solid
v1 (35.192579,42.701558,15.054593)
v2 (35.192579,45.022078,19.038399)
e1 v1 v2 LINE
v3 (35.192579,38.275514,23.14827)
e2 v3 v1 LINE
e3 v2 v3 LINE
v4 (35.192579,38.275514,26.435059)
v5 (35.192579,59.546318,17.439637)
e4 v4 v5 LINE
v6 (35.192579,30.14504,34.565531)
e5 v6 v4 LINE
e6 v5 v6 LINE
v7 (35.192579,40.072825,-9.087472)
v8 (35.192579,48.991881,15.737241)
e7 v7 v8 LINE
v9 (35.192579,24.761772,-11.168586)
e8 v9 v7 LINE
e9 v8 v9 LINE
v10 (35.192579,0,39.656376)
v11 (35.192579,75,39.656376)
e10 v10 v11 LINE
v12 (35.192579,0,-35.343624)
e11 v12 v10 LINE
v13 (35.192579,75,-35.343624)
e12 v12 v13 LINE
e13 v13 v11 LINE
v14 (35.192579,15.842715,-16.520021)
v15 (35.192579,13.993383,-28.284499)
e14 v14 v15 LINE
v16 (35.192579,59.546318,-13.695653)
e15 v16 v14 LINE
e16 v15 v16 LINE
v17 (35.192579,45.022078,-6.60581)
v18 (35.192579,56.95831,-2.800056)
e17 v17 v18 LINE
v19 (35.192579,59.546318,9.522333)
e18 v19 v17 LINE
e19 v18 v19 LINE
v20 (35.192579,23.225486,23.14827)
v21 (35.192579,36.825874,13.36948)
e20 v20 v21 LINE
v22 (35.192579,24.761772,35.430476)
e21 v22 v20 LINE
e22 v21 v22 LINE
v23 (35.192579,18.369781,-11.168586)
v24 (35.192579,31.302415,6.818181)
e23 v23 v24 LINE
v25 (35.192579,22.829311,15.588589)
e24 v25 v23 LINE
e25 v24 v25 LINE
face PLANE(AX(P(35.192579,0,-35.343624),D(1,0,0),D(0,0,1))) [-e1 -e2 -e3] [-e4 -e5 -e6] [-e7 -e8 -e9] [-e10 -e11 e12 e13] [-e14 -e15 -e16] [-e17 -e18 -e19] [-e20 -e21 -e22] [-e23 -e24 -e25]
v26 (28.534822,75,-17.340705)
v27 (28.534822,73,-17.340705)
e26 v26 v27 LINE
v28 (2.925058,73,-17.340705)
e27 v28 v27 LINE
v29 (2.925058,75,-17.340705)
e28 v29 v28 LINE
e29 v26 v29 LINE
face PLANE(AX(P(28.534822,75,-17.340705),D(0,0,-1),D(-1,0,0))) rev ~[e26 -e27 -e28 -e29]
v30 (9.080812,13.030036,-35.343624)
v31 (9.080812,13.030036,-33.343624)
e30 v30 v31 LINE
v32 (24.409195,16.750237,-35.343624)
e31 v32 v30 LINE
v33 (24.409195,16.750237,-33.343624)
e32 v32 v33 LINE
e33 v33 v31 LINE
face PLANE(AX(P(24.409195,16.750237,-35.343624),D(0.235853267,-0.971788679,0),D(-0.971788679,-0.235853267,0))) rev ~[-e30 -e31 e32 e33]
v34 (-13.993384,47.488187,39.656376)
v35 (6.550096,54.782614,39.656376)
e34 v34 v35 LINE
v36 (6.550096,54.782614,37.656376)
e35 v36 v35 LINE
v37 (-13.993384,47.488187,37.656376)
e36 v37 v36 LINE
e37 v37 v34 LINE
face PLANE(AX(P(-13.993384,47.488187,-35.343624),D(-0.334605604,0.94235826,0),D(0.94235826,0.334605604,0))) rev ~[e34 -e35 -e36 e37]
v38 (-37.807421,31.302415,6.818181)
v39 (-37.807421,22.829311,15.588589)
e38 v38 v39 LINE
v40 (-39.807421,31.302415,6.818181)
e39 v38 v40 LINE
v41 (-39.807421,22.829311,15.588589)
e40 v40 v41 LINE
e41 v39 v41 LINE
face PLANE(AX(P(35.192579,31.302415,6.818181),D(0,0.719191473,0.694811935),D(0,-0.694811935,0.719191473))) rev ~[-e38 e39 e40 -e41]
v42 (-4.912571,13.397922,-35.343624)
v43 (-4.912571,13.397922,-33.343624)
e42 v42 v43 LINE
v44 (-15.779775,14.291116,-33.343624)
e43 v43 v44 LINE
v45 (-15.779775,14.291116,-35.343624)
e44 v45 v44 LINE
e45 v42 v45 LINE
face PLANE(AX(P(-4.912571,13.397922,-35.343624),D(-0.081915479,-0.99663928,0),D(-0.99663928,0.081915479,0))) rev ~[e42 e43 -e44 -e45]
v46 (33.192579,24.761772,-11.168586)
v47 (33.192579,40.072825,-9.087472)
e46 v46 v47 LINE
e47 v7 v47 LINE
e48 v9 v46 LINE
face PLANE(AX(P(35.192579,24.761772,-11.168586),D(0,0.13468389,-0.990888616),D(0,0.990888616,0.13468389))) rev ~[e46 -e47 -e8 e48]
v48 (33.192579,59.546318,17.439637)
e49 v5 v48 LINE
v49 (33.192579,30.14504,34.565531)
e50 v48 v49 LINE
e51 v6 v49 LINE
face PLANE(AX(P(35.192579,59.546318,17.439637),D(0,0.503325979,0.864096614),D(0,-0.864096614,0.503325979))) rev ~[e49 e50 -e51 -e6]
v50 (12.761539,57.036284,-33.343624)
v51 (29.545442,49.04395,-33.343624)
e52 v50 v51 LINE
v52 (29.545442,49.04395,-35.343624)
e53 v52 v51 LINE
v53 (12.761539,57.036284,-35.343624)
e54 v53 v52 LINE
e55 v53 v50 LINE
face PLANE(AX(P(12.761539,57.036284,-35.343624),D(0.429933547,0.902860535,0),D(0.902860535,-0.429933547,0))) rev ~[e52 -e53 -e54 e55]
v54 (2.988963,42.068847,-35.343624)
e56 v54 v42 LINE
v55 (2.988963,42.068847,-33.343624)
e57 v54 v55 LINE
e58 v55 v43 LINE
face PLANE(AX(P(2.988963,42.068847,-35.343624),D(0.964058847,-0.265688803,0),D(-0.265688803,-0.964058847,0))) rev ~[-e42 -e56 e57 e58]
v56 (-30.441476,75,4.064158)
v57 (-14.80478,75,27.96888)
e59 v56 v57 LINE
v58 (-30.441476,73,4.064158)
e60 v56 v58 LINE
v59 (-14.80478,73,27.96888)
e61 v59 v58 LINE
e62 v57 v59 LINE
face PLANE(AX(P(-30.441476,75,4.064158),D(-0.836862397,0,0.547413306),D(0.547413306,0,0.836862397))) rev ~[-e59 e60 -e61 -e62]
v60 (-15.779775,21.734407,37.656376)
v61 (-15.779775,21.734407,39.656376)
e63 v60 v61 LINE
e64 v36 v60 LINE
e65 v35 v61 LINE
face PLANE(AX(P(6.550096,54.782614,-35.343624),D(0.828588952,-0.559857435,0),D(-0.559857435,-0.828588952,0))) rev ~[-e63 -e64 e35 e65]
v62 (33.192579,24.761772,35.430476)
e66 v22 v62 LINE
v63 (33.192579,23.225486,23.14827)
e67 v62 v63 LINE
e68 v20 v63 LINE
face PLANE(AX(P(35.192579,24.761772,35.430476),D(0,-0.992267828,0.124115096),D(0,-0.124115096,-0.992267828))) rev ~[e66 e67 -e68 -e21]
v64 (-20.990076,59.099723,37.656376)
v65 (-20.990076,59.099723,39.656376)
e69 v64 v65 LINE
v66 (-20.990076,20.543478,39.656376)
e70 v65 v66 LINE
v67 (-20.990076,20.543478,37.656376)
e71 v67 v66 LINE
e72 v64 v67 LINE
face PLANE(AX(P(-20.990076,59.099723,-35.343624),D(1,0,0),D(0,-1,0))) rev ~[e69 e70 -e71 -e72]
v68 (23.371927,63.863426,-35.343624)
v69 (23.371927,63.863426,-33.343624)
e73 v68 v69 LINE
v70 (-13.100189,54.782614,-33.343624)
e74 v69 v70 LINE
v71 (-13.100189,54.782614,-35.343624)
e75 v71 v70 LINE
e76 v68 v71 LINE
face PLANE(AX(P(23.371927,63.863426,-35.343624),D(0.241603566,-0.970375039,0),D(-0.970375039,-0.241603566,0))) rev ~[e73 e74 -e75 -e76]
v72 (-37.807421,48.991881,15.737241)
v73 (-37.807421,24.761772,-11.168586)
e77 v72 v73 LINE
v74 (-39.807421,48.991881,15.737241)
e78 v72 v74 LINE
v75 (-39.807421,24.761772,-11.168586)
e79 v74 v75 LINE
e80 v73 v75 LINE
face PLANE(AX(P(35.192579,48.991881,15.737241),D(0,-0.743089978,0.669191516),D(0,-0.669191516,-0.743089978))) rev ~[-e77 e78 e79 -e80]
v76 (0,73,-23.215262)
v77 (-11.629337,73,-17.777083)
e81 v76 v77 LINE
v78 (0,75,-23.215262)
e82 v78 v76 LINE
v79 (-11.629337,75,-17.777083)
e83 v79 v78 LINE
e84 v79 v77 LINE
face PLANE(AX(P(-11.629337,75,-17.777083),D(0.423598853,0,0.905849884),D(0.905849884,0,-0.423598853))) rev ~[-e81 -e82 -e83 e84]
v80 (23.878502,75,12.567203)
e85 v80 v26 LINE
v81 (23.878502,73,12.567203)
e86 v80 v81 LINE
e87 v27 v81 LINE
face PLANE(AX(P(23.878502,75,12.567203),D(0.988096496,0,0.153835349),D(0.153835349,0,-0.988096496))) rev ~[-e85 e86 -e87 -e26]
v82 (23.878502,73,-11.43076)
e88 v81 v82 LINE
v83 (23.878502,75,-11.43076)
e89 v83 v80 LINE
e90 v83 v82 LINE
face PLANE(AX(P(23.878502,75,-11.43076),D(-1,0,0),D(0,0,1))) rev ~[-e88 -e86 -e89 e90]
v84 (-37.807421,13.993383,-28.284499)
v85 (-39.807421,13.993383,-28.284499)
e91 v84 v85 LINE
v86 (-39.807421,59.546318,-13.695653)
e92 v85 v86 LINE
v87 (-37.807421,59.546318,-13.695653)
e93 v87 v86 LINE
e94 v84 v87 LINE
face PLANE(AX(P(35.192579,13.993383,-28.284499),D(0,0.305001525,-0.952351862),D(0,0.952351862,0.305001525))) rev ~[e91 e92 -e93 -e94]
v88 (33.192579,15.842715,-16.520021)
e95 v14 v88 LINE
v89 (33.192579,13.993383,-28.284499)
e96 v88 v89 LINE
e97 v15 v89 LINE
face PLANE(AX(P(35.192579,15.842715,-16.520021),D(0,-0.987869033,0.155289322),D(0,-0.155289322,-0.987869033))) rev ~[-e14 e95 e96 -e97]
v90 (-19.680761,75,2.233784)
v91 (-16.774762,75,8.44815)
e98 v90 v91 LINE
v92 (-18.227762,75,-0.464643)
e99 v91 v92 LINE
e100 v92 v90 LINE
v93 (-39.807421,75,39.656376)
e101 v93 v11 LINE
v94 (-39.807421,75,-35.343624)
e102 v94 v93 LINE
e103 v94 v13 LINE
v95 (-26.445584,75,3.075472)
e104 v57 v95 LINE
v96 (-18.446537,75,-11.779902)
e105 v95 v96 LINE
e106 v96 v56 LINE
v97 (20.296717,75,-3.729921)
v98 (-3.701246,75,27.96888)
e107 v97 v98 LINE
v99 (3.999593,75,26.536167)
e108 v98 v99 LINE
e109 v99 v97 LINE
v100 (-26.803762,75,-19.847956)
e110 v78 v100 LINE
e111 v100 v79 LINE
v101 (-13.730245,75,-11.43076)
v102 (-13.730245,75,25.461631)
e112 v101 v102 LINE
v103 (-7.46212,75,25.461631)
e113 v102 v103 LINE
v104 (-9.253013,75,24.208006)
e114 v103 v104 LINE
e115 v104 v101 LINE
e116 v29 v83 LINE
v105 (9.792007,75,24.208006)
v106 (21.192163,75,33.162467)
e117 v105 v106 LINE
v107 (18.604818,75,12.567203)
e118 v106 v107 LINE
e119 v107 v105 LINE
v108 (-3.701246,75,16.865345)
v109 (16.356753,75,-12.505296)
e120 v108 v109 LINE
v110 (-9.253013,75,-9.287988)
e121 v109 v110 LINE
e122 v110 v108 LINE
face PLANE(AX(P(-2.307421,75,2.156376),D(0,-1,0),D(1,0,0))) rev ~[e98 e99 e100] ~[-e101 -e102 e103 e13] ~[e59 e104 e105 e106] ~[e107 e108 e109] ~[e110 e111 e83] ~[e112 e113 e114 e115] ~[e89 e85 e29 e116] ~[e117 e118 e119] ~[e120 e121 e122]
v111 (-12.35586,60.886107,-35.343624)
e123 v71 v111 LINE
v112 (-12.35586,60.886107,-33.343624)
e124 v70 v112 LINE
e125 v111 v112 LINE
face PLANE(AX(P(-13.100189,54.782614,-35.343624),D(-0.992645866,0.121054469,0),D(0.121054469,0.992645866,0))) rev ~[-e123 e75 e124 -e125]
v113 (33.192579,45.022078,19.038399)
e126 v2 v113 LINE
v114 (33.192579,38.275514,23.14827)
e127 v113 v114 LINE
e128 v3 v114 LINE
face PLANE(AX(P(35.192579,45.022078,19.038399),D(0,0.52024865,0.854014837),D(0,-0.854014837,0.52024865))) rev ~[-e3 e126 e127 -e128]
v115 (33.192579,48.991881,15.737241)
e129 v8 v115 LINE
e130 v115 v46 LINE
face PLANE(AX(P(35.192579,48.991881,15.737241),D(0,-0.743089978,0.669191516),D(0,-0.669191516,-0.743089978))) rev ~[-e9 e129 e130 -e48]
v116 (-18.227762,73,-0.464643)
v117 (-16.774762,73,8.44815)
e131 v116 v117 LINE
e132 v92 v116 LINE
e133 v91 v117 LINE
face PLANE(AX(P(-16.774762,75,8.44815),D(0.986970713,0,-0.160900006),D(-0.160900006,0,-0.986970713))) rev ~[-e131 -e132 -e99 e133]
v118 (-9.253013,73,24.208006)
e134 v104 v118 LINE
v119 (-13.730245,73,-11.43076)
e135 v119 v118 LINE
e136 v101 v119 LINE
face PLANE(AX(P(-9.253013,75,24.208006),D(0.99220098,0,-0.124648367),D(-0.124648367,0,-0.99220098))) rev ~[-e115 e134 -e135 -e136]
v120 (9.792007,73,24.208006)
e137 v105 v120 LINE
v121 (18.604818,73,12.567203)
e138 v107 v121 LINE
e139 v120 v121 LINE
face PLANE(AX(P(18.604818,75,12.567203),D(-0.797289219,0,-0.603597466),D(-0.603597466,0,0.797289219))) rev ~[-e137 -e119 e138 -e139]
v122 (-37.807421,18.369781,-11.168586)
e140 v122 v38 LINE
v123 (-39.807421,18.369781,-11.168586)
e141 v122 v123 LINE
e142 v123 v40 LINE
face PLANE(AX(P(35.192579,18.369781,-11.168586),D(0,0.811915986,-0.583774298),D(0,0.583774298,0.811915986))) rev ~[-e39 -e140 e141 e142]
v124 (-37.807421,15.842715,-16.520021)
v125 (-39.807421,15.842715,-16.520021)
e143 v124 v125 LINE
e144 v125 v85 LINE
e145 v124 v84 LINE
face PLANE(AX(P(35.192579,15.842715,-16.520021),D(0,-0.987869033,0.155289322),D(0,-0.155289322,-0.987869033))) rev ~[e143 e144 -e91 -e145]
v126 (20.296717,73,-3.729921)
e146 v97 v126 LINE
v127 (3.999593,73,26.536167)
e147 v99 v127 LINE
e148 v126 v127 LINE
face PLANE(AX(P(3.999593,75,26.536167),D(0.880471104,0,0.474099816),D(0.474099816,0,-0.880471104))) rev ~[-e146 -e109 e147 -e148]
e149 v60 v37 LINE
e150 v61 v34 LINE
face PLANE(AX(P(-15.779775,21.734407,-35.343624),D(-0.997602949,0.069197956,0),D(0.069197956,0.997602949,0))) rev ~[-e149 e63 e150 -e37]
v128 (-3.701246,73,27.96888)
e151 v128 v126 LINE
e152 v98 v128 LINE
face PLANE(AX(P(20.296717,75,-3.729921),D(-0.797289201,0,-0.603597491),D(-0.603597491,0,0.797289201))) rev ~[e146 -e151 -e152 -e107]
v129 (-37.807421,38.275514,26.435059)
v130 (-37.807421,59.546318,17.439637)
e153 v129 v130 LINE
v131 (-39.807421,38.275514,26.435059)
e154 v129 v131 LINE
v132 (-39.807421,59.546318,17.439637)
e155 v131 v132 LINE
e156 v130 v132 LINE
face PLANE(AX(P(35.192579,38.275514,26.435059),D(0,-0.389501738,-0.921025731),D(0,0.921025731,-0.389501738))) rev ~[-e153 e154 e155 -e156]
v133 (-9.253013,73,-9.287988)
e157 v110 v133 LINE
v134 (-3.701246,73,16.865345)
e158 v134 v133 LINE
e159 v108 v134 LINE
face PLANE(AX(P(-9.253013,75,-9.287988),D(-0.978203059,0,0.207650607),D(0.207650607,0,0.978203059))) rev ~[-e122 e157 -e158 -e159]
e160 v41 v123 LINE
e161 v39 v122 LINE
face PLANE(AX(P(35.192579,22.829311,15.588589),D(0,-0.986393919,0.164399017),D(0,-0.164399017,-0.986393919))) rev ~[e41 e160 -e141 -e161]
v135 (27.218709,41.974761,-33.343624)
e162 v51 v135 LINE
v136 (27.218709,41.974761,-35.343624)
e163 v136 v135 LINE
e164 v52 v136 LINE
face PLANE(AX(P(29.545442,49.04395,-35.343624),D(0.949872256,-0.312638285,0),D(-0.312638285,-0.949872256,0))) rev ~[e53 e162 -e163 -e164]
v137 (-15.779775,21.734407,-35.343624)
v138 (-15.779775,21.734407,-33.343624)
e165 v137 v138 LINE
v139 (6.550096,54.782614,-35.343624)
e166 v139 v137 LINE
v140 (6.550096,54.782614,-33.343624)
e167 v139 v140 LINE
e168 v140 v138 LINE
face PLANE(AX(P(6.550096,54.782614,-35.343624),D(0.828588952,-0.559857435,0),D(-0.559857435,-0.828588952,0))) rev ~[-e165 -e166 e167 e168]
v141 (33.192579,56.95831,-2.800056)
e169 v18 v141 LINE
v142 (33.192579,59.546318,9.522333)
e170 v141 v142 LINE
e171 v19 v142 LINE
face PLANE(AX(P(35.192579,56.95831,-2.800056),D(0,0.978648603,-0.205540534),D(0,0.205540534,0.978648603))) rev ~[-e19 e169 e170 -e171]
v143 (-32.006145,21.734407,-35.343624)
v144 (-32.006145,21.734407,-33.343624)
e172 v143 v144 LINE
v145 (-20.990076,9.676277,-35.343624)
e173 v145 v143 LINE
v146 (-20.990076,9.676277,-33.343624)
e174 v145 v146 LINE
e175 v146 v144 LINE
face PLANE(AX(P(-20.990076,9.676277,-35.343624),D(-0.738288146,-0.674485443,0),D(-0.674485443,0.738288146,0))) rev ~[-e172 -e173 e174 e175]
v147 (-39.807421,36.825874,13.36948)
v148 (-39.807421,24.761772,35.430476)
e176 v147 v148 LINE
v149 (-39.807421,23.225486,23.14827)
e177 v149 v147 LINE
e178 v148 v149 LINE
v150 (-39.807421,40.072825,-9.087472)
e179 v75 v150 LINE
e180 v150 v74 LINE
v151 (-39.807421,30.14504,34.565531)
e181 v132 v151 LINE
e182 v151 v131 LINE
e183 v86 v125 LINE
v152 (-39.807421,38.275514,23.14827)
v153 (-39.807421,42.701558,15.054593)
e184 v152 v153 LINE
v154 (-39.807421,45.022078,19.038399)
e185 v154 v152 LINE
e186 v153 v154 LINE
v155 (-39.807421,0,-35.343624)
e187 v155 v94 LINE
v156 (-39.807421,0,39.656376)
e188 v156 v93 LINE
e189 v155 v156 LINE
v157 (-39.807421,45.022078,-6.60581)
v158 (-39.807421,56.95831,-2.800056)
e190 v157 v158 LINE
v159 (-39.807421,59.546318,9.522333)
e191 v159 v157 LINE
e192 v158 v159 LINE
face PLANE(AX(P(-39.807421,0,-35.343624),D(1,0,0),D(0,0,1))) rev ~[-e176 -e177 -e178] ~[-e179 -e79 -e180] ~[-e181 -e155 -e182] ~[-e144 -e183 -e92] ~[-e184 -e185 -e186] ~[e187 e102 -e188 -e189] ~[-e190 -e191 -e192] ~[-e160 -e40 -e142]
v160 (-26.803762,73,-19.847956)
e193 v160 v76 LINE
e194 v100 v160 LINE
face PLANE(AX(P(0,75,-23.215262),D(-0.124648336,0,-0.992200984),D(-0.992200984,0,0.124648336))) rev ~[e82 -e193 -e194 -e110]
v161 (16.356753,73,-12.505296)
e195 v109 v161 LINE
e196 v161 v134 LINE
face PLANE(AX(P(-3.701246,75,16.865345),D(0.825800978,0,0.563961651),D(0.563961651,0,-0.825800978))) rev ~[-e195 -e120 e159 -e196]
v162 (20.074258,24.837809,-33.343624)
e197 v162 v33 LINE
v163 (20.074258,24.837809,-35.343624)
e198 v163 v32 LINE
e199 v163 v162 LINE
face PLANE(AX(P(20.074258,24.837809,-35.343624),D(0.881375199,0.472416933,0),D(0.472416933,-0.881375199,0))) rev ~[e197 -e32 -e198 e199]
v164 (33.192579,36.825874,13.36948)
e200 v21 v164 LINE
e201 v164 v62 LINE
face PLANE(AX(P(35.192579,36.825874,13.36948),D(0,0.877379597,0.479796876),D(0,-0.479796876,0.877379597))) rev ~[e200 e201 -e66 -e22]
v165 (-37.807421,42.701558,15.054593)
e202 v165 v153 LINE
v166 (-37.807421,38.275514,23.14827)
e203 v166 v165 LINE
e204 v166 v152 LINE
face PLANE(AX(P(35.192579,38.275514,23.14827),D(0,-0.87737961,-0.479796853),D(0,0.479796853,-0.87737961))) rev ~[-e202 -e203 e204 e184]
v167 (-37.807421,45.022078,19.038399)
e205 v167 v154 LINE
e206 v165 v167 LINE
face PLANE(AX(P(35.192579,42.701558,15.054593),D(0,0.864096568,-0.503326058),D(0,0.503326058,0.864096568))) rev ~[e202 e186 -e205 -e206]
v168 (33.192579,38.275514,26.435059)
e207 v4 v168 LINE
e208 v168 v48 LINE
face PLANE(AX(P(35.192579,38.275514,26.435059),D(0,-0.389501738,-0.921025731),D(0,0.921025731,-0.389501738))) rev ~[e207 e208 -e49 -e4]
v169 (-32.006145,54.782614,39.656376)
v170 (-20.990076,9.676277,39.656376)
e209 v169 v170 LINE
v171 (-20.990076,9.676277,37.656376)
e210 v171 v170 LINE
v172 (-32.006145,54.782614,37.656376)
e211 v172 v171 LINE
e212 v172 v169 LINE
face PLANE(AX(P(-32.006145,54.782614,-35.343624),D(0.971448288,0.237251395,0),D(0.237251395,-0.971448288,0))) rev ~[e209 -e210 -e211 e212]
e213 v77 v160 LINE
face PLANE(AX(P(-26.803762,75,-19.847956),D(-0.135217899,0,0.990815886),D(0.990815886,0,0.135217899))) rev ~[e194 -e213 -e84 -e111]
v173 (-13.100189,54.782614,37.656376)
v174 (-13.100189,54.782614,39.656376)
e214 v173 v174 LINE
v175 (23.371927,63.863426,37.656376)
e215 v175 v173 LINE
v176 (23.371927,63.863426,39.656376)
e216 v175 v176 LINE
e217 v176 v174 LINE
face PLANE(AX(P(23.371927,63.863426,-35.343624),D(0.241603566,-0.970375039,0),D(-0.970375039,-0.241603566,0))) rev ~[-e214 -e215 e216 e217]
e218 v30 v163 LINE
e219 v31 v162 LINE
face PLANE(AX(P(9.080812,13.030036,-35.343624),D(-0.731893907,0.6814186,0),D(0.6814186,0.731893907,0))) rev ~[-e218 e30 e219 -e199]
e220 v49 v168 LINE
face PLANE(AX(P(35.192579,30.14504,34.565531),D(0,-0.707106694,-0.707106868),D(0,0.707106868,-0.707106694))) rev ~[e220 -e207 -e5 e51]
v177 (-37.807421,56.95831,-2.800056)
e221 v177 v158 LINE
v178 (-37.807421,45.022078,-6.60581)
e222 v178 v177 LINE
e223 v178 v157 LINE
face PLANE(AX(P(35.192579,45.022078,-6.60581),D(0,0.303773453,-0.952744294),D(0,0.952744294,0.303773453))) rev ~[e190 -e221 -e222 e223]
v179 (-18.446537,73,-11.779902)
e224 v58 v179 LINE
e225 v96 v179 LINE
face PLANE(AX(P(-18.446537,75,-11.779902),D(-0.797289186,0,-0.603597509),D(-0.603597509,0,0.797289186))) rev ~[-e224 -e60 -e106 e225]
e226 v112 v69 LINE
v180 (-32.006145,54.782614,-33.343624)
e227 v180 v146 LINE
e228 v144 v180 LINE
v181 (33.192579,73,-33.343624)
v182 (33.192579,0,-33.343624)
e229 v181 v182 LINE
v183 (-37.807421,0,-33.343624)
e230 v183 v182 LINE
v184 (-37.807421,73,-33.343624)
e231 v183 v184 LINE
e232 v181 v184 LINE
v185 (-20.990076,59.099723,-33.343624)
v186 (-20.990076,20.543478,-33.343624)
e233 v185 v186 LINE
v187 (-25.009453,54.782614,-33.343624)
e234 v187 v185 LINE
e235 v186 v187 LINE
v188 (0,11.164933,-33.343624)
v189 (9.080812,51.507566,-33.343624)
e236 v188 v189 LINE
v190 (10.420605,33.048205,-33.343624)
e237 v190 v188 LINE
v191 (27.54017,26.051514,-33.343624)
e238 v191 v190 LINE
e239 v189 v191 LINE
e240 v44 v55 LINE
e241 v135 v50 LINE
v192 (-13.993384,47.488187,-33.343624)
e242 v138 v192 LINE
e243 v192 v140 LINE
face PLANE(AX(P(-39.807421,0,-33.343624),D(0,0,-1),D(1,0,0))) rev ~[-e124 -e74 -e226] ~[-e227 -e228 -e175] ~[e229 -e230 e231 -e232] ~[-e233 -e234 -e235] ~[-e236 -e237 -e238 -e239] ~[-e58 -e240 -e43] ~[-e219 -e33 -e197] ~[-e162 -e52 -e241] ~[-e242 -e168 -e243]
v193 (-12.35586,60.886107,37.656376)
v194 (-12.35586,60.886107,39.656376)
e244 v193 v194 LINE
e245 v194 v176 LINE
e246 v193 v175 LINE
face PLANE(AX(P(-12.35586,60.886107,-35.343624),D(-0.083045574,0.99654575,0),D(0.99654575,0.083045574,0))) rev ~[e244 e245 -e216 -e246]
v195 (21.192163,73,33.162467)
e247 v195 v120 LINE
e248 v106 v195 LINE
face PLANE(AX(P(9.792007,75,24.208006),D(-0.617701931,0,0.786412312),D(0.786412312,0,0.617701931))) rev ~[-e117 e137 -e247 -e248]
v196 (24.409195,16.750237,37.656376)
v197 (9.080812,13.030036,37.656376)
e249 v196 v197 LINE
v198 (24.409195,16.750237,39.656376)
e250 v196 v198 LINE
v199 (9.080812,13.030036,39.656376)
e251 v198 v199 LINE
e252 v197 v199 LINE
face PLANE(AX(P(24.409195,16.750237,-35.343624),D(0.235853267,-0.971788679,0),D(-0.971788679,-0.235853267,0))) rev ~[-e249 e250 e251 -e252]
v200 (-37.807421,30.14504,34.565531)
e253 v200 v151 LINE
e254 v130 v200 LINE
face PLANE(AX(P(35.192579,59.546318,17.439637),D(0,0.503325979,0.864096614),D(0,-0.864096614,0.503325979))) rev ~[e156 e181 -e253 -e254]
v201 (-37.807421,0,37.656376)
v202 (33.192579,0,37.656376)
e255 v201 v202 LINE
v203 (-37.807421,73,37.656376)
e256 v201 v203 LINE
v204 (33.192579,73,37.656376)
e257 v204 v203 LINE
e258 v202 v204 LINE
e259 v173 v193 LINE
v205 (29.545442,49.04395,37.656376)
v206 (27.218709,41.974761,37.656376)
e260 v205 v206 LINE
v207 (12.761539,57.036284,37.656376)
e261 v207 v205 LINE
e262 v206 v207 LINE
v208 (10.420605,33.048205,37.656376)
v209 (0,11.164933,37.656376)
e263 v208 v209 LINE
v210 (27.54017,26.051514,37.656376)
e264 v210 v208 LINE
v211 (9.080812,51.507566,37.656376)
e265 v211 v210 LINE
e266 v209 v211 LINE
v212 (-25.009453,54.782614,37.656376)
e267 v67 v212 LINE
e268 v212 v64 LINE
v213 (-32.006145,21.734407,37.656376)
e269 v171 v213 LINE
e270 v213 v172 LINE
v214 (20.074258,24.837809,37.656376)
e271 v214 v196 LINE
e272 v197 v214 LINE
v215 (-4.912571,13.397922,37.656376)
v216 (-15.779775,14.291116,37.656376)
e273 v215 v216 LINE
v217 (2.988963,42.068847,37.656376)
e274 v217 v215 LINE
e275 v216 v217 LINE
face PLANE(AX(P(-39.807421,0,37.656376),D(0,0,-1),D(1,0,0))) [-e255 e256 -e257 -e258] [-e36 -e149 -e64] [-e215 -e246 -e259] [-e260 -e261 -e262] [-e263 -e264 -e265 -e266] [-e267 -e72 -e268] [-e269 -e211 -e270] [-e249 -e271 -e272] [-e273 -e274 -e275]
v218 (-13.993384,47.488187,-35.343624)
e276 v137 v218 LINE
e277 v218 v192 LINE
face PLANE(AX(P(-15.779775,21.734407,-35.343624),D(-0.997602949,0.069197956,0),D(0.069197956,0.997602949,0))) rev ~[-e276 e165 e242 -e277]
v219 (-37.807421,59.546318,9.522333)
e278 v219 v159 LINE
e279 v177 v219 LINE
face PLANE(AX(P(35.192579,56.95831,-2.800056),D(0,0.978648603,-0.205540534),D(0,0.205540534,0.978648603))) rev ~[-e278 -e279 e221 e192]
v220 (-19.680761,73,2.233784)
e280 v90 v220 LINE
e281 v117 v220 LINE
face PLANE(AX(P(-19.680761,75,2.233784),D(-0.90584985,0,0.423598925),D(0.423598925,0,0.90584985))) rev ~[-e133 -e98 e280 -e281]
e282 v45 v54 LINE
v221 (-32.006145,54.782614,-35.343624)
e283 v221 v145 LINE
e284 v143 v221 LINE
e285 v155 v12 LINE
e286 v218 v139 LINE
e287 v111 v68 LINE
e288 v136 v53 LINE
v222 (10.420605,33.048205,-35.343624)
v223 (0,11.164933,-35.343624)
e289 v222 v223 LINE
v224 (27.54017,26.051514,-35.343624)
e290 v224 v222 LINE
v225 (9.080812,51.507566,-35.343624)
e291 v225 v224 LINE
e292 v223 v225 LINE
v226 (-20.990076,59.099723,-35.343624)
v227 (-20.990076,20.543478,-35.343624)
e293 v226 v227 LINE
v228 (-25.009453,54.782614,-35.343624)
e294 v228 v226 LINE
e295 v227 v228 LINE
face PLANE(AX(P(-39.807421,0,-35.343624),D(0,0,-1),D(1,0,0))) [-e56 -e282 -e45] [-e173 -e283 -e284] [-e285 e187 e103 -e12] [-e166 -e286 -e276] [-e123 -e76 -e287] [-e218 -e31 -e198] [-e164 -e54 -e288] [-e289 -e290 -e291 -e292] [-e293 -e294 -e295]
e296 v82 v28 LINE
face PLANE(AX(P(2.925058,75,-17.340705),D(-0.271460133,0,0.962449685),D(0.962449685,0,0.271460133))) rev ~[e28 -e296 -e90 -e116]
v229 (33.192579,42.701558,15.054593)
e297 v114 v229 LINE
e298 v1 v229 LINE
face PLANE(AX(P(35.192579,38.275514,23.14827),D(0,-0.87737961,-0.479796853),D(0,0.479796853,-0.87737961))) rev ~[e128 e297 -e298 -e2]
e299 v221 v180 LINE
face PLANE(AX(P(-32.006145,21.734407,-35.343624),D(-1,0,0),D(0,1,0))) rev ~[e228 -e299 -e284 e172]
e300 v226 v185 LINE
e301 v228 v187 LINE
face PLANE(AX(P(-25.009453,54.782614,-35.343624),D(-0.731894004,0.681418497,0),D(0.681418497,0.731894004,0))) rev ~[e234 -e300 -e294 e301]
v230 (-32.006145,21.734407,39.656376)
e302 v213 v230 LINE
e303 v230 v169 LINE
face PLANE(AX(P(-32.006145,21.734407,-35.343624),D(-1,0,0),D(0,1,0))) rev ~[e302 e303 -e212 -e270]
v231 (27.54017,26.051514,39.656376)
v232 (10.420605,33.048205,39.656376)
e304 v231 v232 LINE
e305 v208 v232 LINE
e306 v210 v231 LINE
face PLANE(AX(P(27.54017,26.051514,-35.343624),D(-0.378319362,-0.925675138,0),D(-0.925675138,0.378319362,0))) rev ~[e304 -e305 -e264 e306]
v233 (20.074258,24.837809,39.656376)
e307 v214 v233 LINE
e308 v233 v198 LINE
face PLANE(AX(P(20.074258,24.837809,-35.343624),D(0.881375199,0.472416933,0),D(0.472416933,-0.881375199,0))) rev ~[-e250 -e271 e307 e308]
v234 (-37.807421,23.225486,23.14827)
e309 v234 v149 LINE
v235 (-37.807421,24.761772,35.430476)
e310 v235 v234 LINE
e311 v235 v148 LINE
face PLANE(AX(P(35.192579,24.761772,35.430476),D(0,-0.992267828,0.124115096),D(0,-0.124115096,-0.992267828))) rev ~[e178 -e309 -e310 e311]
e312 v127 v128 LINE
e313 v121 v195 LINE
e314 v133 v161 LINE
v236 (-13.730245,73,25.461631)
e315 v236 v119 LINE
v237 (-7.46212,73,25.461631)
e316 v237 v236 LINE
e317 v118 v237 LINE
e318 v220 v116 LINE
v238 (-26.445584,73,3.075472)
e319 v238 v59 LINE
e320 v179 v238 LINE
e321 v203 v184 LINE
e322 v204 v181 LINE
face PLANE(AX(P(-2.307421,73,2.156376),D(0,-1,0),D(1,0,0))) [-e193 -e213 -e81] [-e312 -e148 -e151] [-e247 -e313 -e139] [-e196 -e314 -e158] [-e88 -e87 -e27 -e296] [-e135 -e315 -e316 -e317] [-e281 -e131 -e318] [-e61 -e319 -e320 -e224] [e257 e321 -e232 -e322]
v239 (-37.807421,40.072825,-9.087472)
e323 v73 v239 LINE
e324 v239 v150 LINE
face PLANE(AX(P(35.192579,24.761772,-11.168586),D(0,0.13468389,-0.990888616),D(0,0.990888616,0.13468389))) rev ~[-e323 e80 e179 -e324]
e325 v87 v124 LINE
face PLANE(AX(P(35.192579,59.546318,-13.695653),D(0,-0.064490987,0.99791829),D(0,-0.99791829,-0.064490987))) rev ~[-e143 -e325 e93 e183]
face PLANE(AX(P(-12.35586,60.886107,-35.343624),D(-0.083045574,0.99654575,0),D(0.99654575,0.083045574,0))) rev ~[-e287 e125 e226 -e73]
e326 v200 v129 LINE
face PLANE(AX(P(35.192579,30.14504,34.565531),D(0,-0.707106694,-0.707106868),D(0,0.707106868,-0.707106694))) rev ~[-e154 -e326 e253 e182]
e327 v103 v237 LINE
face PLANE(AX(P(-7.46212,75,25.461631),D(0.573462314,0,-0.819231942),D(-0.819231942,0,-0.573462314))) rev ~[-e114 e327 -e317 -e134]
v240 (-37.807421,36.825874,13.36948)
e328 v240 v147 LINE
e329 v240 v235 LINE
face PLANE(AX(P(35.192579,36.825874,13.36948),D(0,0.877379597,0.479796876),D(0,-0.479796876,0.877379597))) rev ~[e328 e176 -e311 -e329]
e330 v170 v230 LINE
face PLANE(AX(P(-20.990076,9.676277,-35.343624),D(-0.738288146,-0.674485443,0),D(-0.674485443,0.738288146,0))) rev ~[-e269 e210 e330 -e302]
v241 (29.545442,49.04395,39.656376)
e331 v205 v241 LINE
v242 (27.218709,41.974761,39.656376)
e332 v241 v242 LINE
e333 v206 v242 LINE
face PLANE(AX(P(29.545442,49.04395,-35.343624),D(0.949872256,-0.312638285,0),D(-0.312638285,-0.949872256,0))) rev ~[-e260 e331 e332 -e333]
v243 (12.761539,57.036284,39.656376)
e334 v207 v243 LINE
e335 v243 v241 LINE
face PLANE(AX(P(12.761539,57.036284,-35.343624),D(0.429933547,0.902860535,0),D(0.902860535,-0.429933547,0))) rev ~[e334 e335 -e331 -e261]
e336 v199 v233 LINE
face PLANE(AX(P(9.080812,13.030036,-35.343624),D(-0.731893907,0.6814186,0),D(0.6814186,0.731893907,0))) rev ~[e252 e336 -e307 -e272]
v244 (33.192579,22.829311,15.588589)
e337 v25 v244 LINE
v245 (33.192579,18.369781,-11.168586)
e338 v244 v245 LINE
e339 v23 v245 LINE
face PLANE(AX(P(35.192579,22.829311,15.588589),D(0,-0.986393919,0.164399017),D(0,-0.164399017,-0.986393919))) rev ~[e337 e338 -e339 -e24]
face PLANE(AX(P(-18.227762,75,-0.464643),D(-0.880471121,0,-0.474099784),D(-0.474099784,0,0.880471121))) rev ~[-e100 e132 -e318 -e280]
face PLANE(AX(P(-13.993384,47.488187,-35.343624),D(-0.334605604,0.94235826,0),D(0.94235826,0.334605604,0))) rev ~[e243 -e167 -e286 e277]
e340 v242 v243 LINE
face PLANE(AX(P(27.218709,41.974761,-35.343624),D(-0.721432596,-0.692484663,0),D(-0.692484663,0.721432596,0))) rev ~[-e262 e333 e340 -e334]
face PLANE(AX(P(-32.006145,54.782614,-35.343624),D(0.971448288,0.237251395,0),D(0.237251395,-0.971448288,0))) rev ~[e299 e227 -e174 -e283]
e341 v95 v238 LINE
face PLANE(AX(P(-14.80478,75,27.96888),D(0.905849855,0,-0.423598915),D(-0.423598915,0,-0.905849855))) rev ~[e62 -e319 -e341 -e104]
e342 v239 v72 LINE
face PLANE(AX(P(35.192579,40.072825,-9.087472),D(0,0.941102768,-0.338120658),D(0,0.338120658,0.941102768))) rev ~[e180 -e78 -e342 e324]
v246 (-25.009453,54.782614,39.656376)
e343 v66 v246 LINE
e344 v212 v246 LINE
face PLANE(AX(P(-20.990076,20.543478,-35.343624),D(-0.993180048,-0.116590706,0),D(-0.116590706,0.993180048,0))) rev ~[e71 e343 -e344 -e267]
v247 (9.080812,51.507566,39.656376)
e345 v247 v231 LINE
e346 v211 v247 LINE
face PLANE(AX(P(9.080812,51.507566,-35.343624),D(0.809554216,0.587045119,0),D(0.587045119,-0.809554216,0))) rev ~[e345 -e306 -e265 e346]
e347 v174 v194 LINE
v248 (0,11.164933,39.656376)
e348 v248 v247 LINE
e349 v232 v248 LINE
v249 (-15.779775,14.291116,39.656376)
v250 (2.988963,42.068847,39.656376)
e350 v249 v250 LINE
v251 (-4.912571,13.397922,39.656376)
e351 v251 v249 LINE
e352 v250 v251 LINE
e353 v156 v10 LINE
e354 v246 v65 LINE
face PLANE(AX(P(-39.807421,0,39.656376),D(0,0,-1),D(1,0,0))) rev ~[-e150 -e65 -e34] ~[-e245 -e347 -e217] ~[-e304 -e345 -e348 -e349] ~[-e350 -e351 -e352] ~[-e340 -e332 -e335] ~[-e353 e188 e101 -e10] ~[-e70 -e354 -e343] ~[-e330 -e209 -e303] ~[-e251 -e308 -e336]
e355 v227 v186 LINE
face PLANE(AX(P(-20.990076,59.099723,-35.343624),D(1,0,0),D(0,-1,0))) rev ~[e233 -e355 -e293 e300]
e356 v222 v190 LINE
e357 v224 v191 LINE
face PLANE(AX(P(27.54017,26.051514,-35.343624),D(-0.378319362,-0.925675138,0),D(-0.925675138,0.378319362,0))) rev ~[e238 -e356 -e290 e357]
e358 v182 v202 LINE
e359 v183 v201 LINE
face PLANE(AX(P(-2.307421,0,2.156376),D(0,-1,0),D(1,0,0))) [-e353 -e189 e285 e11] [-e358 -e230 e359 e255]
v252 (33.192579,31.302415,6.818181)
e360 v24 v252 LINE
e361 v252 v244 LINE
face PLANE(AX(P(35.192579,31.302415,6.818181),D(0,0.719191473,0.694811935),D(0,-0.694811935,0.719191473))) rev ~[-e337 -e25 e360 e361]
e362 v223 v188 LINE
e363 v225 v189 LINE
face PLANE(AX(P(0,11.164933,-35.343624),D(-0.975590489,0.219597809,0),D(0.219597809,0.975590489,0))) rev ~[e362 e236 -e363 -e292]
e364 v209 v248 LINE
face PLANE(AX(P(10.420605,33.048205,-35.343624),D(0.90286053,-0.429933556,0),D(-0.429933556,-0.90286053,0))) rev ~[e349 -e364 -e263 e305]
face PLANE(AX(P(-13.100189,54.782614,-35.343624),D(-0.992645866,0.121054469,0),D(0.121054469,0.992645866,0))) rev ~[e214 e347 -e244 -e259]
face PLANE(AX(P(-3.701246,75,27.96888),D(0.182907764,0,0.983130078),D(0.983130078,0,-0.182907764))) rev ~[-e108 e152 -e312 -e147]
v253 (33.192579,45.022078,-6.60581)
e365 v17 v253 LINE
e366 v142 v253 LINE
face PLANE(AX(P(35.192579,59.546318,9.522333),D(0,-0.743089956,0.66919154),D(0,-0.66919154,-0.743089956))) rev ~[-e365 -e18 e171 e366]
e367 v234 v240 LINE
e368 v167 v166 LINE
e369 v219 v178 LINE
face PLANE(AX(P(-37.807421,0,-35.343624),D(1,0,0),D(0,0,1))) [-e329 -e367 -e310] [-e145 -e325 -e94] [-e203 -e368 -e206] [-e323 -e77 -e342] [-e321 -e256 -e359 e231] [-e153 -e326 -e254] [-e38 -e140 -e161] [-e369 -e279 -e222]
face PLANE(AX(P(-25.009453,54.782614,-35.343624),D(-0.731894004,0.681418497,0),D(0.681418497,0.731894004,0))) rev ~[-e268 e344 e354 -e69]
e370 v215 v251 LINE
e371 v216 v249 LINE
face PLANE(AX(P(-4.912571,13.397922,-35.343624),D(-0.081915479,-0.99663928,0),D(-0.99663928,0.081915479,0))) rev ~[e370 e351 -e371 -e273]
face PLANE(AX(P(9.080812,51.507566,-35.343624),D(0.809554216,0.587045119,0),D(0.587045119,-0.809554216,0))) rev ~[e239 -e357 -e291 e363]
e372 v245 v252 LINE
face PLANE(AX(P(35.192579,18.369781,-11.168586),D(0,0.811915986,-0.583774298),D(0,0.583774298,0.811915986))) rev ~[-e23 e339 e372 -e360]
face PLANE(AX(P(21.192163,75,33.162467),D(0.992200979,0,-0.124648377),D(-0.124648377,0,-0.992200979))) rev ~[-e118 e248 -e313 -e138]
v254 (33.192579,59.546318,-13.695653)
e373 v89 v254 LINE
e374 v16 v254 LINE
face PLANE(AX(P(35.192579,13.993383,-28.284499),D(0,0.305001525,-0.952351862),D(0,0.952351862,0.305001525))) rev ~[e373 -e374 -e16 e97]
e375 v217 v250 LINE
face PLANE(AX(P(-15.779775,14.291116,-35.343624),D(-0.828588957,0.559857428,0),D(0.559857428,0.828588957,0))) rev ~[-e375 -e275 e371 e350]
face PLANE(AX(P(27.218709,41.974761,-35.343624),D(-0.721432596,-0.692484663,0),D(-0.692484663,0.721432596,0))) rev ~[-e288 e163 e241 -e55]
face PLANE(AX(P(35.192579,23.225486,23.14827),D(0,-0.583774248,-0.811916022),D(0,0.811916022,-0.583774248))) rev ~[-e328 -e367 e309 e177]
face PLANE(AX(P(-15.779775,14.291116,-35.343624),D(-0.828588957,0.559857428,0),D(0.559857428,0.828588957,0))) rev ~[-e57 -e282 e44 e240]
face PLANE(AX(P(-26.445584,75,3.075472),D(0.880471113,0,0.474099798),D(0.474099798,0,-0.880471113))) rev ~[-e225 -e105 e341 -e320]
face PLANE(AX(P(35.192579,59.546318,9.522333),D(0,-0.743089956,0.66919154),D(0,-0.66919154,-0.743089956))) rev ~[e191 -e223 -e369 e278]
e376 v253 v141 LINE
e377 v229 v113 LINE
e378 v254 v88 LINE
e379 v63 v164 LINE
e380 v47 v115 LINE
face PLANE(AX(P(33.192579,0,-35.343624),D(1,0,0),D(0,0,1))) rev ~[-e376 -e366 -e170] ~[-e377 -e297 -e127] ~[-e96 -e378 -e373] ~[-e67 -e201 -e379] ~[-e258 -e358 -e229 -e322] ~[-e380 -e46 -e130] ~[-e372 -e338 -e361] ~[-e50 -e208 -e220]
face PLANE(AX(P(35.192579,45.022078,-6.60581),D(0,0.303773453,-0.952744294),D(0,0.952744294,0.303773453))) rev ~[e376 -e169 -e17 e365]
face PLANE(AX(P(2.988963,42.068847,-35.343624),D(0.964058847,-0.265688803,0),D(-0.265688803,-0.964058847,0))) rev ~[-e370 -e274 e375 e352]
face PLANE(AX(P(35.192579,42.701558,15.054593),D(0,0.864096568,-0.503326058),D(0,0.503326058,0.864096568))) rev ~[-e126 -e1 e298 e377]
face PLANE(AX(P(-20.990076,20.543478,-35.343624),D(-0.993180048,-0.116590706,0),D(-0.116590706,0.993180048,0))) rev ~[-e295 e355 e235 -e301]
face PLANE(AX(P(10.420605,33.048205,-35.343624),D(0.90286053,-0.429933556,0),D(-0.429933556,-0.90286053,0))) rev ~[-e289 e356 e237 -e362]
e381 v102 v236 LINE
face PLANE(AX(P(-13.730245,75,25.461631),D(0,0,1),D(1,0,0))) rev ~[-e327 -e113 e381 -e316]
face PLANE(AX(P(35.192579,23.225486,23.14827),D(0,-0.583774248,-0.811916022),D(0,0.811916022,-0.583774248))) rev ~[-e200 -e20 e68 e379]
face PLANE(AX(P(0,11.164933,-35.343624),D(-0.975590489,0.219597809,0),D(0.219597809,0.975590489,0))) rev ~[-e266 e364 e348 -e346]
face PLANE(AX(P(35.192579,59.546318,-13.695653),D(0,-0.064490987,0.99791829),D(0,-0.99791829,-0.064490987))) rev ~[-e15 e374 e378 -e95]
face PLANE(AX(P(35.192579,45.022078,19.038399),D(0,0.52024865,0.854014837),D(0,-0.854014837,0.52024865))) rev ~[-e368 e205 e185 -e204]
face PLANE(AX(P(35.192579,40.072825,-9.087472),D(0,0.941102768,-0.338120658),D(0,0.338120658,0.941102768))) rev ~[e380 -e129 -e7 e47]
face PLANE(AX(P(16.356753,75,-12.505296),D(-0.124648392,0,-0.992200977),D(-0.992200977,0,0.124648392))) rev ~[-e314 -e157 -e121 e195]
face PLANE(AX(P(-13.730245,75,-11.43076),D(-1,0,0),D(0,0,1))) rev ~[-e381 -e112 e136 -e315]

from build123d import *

# Parameters (mm, degrees)
F0_W     = 75
F0_H     = 75
F1_DEPTH = 75
F2_T     = -2
F4_DEPTH = 146.3
F6_DEPTH = 84.9
F8_DEPTH = 25


with BuildPart() as f1:
    # F0 (on Front) → F1 (new body)
    with BuildSketch(Plane.XZ):
        with Locations((-2.307421, 2.156376)):
            Rectangle(F0_W, F0_H)
    extrude(amount=-F1_DEPTH)

    # F2
    f2_openings = [f1.faces().sort_by_distance(p)[0] for p in [
        (-2.307421, 0, 2.156376),
    ]]
    offset(amount=F2_T, openings=f2_openings)

    # F3 (on face) → F4 (cut)
    with BuildSketch(Plane(origin=(0, 0, -35.343624), x_dir=(1, 0, 0), z_dir=(0, 0, -1))):
        Polygon((-20.990076, -20.543478), (-25.009453, -54.782614), (-20.990076, -59.099723), align=None)
        Polygon((6.550096, -54.782614), (-15.779775, -21.734407), (-13.993384, -47.488187), align=None)
        Polygon((10.420605, -33.048205), (0, -11.164933), (9.080812, -51.507566), (27.54017, -26.051514), align=None)
        Polygon((23.371927, -63.863426), (-13.100189, -54.782614), (-12.35586, -60.886107), align=None)
        Polygon((-4.912571, -13.397922), (-15.779775, -14.291116), (2.988963, -42.068847), align=None)
        Polygon((-32.006145, -54.782614), (-20.990076, -9.676277), (-32.006145, -21.734407), align=None)
        Polygon((29.545442, -49.04395), (27.218709, -41.974761), (12.761539, -57.036284), align=None)
        Polygon((24.409195, -16.750237), (9.080812, -13.030036), (20.074258, -24.837809), align=None)
    extrude(amount=-F4_DEPTH, mode=Mode.SUBTRACT)

    # F5 (on face) → F6 (cut)
    with BuildSketch(Plane.YZ.offset(35.192579)):
        Polygon((15.842715, -16.520021), (13.993383, -28.284499), (59.546318, -13.695653), align=None)
        Polygon((22.829311, 15.588589), (18.369781, -11.168586), (31.302415, 6.818181), align=None)
        Polygon((48.991881, 15.737241), (24.761772, -11.168586), (40.072825, -9.087472), align=None)
        Polygon((24.761772, 35.430476), (23.225486, 23.14827), (36.825874, 13.36948), align=None)
        Polygon((30.14504, 34.565531), (38.275514, 26.435059), (59.546318, 17.439637), align=None)
        Polygon((59.546318, 9.522333), (45.022078, -6.60581), (56.95831, -2.800056), align=None)
        Polygon((45.022078, 19.038399), (38.275514, 23.14827), (42.701558, 15.054593), align=None)
    extrude(amount=-F6_DEPTH, mode=Mode.SUBTRACT)

    # F7 (on face) → F8 (cut)
    with BuildSketch(Plane(origin=(0, 75, 0), x_dir=(-1, 0, 0), z_dir=(0, 1, 0))):
        Polygon((-20.296717, -3.729921), (3.701246, 27.96888), (-3.999593, 26.536167), align=None)
        Polygon((7.46212, 25.461631), (9.253013, 24.208006), (13.730245, -11.43076), (13.730245, 25.461631), align=None)
        Polygon((9.253013, -9.287988), (3.701246, 16.865345), (-16.356753, -12.505296), align=None)
        Polygon((-23.878502, -11.43076), (-23.878502, 12.567203), (-28.534822, -17.340705), (-2.925058, -17.340705), align=None)
        Polygon((30.441476, 4.064158), (14.80478, 27.96888), (26.445584, 3.075472), (18.446537, -11.779902), align=None)
        Polygon((19.680761, 2.233784), (16.774762, 8.44815), (18.227762, -0.464643), align=None)
        Polygon((0, -23.215262), (26.803762, -19.847956), (11.629337, -17.777083), align=None)
        Polygon((-9.792007, 24.208006), (-21.192163, 33.162467), (-18.604818, 12.567203), align=None)
    extrude(amount=-F8_DEPTH, mode=Mode.SUBTRACT)


solid = f1.part
